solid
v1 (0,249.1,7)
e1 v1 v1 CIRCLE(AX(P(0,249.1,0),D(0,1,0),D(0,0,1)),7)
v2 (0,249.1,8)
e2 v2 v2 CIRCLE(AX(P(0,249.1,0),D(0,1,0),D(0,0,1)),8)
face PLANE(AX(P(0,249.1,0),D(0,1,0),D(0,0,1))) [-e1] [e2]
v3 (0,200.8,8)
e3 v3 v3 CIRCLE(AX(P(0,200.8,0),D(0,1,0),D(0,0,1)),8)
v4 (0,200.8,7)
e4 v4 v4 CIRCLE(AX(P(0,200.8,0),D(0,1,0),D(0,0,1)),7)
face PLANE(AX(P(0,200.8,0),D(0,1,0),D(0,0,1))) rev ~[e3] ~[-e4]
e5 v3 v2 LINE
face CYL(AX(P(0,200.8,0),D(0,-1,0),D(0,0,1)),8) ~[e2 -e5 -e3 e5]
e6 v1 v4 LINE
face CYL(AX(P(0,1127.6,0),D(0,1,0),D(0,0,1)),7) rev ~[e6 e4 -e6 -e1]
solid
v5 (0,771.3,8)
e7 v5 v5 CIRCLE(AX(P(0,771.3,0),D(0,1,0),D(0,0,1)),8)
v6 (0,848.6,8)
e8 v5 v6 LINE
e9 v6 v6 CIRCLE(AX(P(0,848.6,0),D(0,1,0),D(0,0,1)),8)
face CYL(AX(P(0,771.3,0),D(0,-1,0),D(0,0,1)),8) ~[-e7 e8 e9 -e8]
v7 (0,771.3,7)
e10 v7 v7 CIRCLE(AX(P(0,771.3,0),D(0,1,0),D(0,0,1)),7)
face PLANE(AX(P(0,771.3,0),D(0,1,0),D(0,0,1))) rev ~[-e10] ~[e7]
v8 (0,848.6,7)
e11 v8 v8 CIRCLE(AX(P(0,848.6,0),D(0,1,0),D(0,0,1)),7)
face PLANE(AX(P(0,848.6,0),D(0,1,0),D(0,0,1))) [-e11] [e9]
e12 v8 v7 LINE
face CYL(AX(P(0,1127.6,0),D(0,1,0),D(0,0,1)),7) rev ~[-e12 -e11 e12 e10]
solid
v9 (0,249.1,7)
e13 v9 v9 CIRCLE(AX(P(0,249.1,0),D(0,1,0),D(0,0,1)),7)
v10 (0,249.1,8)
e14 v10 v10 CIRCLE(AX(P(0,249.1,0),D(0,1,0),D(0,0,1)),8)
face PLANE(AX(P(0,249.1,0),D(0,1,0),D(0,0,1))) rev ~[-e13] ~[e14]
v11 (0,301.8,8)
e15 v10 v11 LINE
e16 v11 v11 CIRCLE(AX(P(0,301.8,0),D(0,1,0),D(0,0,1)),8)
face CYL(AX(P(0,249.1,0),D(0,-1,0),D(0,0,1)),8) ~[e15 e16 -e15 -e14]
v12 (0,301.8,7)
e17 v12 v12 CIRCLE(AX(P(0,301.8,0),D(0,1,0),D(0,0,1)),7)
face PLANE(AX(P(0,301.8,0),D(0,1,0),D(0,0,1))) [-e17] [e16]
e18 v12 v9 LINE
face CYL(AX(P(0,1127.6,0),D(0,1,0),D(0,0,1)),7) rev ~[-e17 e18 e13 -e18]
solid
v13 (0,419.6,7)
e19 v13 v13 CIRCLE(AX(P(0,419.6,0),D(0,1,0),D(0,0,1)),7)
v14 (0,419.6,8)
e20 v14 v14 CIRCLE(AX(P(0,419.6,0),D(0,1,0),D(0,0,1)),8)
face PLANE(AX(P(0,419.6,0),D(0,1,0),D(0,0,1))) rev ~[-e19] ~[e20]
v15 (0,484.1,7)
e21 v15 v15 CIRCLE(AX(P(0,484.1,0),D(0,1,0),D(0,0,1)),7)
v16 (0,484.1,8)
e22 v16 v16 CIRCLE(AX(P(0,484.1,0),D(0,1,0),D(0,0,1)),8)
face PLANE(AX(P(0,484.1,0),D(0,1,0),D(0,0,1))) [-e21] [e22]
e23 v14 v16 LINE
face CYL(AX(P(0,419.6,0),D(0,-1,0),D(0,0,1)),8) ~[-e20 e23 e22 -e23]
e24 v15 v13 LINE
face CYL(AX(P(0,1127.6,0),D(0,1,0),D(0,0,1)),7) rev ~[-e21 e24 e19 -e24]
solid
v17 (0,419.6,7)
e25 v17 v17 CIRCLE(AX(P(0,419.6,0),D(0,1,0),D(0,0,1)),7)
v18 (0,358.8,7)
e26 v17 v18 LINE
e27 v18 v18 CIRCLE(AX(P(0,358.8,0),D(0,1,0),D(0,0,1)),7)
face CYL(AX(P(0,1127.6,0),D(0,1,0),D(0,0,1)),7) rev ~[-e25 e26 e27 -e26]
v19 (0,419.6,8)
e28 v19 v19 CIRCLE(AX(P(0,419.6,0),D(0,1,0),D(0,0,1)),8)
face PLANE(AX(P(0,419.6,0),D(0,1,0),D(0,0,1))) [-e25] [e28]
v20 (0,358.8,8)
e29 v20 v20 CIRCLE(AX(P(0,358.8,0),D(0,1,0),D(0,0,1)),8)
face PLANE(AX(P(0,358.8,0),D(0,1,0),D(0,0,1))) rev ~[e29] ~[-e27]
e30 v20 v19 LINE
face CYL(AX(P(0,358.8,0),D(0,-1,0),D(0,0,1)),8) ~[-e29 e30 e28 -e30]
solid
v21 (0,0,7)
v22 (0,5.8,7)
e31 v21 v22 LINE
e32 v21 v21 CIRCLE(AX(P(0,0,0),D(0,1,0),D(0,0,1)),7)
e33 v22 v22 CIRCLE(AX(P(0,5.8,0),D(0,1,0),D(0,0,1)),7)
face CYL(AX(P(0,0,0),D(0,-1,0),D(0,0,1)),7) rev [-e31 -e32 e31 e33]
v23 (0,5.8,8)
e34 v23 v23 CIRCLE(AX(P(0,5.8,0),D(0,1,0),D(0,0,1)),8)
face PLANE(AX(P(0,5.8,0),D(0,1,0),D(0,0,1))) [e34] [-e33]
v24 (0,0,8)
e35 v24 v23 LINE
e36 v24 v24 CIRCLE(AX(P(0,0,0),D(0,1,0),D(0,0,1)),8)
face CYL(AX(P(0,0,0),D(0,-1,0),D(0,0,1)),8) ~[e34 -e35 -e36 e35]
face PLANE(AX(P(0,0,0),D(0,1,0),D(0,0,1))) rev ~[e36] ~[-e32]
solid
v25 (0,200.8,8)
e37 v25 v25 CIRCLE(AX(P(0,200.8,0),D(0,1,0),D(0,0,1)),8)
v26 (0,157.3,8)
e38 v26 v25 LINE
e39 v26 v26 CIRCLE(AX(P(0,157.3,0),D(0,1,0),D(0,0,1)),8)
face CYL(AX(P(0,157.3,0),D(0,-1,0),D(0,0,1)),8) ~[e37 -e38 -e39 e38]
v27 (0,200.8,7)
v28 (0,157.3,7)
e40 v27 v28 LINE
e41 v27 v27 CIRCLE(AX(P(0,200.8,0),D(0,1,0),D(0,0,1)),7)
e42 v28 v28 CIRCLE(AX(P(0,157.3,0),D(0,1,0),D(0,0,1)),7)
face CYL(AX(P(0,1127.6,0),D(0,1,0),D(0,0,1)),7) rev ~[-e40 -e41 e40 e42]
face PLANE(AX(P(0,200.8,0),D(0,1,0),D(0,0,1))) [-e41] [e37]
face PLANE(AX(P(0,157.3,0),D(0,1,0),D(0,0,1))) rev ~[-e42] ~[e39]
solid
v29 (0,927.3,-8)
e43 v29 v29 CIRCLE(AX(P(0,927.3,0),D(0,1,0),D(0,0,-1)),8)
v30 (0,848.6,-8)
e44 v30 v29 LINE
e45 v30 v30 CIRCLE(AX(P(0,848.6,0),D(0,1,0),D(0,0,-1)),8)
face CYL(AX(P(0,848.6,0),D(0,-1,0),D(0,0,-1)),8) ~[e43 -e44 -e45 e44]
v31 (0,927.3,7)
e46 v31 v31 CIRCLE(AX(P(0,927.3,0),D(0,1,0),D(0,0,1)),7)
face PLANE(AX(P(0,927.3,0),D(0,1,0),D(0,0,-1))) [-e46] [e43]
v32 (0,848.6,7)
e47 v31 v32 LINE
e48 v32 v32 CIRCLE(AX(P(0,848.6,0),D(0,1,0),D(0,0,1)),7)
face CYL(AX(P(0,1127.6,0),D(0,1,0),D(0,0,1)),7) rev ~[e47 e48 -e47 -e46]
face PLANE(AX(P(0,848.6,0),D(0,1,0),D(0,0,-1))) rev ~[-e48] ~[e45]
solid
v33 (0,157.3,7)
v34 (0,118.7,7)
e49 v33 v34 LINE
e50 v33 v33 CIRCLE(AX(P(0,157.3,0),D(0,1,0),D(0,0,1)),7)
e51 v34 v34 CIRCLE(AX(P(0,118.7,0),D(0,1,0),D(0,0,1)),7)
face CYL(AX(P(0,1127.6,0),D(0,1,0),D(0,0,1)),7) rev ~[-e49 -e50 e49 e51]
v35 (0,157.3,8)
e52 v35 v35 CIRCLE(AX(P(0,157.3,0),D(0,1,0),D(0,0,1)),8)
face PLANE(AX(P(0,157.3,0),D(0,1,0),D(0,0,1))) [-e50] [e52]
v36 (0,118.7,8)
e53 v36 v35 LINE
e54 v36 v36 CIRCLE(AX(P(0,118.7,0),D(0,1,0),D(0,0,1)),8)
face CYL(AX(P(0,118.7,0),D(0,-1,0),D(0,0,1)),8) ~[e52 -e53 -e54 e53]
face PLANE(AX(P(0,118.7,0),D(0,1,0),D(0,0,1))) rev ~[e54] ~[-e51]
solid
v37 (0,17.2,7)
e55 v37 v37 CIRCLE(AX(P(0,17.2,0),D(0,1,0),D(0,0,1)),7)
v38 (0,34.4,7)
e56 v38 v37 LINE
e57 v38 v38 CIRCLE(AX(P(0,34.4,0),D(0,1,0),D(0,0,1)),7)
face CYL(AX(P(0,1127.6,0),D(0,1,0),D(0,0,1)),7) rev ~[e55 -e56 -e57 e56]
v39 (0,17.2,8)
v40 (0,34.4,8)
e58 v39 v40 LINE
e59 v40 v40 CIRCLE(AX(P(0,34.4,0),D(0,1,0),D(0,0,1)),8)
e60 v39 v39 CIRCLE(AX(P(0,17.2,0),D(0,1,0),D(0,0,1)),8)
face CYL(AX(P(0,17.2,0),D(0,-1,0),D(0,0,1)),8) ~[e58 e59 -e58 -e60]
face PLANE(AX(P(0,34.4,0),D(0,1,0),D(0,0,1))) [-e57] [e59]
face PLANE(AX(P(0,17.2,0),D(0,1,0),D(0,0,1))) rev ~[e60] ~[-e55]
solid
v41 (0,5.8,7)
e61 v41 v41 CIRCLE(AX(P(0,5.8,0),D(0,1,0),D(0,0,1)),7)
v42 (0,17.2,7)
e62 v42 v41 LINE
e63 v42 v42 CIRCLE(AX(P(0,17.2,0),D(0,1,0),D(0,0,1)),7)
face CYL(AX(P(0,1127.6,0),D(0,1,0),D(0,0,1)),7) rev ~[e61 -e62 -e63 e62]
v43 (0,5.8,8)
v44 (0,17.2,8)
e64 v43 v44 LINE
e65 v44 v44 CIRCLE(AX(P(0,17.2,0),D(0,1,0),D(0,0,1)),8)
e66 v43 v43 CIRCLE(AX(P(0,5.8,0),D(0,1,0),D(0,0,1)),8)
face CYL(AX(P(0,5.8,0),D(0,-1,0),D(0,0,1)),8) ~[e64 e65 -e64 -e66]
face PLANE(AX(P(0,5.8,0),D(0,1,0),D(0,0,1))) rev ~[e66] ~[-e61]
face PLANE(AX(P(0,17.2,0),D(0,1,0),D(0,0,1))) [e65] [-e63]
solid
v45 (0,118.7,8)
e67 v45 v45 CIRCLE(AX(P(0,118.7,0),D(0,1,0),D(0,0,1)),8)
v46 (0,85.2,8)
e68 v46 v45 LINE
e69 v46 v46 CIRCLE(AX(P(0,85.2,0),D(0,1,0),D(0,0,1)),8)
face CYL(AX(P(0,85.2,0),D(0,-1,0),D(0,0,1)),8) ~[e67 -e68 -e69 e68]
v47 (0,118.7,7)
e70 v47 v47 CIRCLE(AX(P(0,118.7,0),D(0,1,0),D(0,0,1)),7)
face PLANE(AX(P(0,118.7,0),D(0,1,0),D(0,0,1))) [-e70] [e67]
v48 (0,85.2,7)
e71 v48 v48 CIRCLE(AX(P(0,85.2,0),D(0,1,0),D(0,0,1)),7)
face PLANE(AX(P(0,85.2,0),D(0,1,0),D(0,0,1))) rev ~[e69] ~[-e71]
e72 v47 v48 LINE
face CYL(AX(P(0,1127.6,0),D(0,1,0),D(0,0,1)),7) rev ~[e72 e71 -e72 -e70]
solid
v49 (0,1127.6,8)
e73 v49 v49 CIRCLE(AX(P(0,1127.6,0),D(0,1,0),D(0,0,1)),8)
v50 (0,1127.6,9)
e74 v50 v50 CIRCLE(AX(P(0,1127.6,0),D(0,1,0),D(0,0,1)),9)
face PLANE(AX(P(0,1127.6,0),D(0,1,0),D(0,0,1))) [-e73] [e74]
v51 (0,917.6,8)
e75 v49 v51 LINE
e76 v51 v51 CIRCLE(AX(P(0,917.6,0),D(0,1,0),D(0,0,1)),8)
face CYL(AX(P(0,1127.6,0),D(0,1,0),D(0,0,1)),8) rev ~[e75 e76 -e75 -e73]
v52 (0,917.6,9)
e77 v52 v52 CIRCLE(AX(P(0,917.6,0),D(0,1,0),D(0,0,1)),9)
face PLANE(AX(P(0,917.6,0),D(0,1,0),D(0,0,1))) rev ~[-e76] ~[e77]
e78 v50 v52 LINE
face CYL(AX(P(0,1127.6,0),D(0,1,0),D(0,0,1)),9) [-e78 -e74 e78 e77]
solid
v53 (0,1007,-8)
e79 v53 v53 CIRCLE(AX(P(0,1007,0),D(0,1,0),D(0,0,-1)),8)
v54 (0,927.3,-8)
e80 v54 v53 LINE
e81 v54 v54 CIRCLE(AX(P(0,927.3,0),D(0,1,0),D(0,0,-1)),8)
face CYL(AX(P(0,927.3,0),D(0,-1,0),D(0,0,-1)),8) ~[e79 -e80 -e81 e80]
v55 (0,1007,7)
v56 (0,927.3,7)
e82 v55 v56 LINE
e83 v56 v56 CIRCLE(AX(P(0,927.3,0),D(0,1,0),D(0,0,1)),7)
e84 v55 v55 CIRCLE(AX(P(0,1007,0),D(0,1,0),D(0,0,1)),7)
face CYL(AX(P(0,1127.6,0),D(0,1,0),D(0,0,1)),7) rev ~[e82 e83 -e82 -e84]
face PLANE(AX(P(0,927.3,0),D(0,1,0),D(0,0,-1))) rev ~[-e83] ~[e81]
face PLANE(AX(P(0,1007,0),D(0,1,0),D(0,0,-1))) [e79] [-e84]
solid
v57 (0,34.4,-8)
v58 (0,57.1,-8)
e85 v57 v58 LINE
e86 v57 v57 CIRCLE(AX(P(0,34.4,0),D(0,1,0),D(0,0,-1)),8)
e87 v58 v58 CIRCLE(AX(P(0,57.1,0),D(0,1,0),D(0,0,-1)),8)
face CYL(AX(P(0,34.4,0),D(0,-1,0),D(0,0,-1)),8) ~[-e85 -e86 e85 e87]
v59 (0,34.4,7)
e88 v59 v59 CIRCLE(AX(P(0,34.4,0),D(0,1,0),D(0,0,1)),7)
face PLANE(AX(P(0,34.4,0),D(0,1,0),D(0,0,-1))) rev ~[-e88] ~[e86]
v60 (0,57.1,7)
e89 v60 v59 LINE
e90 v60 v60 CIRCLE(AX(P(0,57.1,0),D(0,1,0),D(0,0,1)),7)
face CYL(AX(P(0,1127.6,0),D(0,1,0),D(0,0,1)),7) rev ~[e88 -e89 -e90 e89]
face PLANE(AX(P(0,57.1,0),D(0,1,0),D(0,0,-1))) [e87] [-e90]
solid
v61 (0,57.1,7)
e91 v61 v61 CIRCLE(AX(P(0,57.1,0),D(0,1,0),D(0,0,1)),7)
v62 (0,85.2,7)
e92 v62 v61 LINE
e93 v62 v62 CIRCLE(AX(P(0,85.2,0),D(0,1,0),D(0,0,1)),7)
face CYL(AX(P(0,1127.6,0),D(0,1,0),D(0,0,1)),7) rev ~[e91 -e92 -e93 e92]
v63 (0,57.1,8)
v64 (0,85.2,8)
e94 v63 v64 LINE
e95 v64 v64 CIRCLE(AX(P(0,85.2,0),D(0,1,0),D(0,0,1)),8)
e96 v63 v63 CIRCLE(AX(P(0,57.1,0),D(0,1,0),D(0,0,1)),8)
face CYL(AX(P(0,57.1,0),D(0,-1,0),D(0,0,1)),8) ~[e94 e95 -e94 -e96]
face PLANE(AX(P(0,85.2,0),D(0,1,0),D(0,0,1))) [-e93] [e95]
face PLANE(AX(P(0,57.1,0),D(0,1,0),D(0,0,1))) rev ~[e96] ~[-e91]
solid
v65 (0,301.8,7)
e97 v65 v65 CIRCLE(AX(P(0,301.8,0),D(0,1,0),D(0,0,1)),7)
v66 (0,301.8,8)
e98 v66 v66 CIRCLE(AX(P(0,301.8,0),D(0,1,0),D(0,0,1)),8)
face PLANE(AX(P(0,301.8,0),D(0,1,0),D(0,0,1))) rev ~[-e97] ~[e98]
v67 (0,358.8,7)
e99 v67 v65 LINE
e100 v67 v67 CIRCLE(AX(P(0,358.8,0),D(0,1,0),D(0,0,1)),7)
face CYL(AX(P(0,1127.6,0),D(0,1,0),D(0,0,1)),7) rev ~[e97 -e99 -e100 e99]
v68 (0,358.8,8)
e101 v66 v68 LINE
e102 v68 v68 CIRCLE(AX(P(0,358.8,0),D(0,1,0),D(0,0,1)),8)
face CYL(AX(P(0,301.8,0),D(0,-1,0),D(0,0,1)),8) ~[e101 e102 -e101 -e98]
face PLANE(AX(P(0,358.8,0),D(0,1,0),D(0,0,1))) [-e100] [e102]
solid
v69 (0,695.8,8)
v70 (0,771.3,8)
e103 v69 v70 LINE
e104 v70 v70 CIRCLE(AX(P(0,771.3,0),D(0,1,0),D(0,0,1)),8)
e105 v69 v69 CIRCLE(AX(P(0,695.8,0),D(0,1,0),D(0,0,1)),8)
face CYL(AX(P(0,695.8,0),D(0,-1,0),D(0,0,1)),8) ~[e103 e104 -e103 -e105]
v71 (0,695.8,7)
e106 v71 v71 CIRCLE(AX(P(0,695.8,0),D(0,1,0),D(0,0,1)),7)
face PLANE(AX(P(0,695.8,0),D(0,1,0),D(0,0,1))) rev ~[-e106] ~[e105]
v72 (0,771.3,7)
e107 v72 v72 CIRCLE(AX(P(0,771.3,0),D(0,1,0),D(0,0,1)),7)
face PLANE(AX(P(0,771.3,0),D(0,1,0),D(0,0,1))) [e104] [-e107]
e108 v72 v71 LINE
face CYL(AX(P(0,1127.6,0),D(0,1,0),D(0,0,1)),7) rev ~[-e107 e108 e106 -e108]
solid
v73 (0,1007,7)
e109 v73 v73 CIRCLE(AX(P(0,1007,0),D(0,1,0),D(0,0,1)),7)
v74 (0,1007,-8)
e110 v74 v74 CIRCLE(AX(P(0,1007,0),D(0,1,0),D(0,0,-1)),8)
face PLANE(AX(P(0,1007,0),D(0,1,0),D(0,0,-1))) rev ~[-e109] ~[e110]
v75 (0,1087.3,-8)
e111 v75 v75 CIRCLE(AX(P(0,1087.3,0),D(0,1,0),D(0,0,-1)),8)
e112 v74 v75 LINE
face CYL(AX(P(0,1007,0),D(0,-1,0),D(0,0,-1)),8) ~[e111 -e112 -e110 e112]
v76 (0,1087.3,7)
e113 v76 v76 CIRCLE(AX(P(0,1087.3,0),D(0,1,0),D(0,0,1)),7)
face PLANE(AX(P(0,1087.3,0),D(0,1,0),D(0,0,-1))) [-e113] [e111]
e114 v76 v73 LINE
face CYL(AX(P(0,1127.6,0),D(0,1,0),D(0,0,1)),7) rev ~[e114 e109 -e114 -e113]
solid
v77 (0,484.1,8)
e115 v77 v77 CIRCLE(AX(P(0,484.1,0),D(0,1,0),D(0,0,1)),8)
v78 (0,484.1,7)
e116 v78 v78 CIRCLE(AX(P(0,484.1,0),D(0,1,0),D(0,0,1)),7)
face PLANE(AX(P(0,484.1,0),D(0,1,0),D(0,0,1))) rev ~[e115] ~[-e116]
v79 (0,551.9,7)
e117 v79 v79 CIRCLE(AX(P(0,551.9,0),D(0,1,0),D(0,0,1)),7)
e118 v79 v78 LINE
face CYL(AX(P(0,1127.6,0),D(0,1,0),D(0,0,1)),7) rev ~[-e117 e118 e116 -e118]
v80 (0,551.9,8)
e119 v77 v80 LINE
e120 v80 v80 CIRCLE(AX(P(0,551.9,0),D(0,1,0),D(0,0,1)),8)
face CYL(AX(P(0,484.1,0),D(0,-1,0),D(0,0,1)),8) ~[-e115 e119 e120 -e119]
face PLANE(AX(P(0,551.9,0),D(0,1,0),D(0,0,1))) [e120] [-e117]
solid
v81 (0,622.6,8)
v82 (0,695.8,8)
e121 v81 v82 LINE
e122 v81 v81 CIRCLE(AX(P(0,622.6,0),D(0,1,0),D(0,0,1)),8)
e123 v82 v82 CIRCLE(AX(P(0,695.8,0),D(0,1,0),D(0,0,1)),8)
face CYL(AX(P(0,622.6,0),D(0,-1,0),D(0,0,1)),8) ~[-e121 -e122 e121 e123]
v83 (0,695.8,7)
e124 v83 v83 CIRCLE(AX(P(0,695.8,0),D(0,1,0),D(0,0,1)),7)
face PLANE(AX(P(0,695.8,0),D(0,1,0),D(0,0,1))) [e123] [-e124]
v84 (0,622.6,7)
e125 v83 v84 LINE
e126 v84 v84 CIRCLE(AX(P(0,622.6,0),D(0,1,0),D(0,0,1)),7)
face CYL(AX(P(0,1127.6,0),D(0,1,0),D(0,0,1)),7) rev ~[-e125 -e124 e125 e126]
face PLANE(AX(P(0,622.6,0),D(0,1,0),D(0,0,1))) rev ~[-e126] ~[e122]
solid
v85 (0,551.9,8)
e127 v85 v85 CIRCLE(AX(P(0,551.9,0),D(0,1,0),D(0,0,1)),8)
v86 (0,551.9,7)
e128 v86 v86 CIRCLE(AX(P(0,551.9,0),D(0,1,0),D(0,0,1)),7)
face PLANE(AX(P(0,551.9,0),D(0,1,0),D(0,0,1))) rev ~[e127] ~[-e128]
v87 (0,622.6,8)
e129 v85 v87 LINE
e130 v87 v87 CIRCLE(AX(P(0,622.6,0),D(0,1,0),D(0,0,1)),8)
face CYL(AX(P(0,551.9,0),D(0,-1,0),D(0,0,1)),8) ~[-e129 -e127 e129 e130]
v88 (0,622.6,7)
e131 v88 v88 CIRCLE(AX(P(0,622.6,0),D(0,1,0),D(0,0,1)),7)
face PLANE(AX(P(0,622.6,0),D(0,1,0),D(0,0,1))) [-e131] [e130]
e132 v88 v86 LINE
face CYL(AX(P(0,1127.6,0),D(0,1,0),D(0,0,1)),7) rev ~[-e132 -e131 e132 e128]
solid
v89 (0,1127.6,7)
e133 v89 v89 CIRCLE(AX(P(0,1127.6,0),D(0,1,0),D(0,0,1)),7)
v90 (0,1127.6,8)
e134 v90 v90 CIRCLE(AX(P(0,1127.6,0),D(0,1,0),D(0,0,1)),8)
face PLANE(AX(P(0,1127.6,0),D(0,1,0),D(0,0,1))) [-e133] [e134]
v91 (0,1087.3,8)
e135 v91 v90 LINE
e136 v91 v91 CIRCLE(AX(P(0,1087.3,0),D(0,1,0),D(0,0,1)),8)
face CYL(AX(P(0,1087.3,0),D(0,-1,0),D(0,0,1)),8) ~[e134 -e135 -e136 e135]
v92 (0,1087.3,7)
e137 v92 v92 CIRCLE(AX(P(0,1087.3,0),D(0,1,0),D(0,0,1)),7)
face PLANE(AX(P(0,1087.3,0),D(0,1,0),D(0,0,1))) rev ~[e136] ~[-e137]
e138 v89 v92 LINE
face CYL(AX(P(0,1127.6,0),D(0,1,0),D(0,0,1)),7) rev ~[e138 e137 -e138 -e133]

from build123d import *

# Parameters (mm, degrees)
SCHIZZO1_R                    = 8
SCHIZZO1_R_2                  = 7
ESTRUSIONE_ESTRUSIONE1_DEPTH  = 5.8
SCHIZZO3_R                    = 8
ESTRUSIONE_ESTRUSIONE2_DEPTH  = 11.4
SCHIZZO4_R                    = 8
ESTRUSIONE_ESTRUSIONE3_DEPTH  = 17.2
SCHIZZO5_R                    = 8
ESTRUSIONE_ESTRUSIONE4_DEPTH  = 22.7
SCHIZZO6_R                    = 8
ESTRUSIONE_ESTRUSIONE5_DEPTH  = 28.1
SCHIZZO7_R                    = 8
ESTRUSIONE_ESTRUSIONE6_DEPTH  = 33.5
SCHIZZO8_R                    = 8
ESTRUSIONE_ESTRUSIONE7_DEPTH  = 38.6
SCHIZZO9_R                    = 8
ESTRUSIONE_ESTRUSIONE8_DEPTH  = 43.5
SCHIZZO10_R                   = 8
ESTRUSIONE_ESTRUSIONE9_DEPTH  = 48.3
SCHIZZO11_R                   = 8
ESTRUSIONE_ESTRUSIONE10_DEPTH = 52.7
SCHIZZO12_R                   = 8
ESTRUSIONE_ESTRUSIONE11_DEPTH = 57
SCHIZZO13_R                   = 8
ESTRUSIONE_ESTRUSIONE12_DEPTH = 60.8
SCHIZZO14_R                   = 8
ESTRUSIONE_ESTRUSIONE13_DEPTH = 64.5
SCHIZZO15_R                   = 8
ESTRUSIONE_ESTRUSIONE14_DEPTH = 67.8
SCHIZZO16_R                   = 8
ESTRUSIONE_ESTRUSIONE15_DEPTH = 70.7
SCHIZZO17_R                   = 8
ESTRUSIONE_ESTRUSIONE16_DEPTH = 73.2
SCHIZZO18_R                   = 8
ESTRUSIONE_ESTRUSIONE17_DEPTH = 75.5
SCHIZZO19_R                   = 8
ESTRUSIONE_ESTRUSIONE18_DEPTH = 77.3
SCHIZZO20_R                   = 8
ESTRUSIONE_ESTRUSIONE19_DEPTH = 78.7
SCHIZZO21_R                   = 8
ESTRUSIONE_ESTRUSIONE20_DEPTH = 79.7
SCHIZZO22_R                   = 8
ESTRUSIONE_ESTRUSIONE21_DEPTH = 80.3
SCHIZZO23_R                   = 8
ESTRUSIONE_ESTRUSIONE22_DEPTH = 40.3
SCHIZZO24_R                   = 7
TAGLIO_ESTRUSIONE1_DEPTH      = 1128.656756287
SCHIZZO25_R                   = 9
SCHIZZO25_R_2                 = 8
ESTRUSIONE_ESTRUSIONE23_DEPTH = 210


with BuildPart() as part:
    # Schizzo1 → Estrusione-Estrusione1 (new body)
    with BuildSketch(Plane(origin=(0, 0, 0), x_dir=(1, 0, 0), z_dir=(0, 1, 0))):
        with Locations(Location((0, 0, 0), (0, 0, 270))):
            Circle(SCHIZZO1_R)
        with Locations(Location((0, 0, 0), (0, 0, 270))):
            Circle(SCHIZZO1_R_2, mode=Mode.SUBTRACT)
    extrude(amount=ESTRUSIONE_ESTRUSIONE1_DEPTH)


with BuildPart() as body_2:
    # Schizzo3 → Estrusione-Estrusione2 (new body)
    with BuildSketch(Plane(origin=(0, 5.8, 0), x_dir=(1, 0, 0), z_dir=(0, 1, 0))):
        with Locations(Location((0, 0, 0), (0, 0, 270))):
            Circle(SCHIZZO3_R)
    extrude(amount=ESTRUSIONE_ESTRUSIONE2_DEPTH)


with BuildPart() as body_3:
    # Schizzo4 → Estrusione-Estrusione3 (new body)
    with BuildSketch(Plane(origin=(0, 17.2, 0), x_dir=(1, 0, 0), z_dir=(0, 1, 0))):
        with Locations(Location((0, 0, 0), (0, 0, 270))):
            Circle(SCHIZZO4_R)
    extrude(amount=ESTRUSIONE_ESTRUSIONE3_DEPTH)


with BuildPart() as body_4:
    # Schizzo5 → Estrusione-Estrusione4 (new body)
    with BuildSketch(Plane(origin=(0, 34.4, 0), x_dir=(1, 0, 0), z_dir=(0, 1, 0))):
        with Locations(Location((0, 0, 0), (0, 0, 90))):
            Circle(SCHIZZO5_R)
    extrude(amount=ESTRUSIONE_ESTRUSIONE4_DEPTH)


with BuildPart() as body_5:
    # Schizzo6 → Estrusione-Estrusione5 (new body)
    with BuildSketch(Plane(origin=(0, 57.1, 0), x_dir=(1, 0, 0), z_dir=(0, 1, 0))):
        with Locations(Location((0, 0, 0), (0, 0, 270))):
            Circle(SCHIZZO6_R)
    extrude(amount=ESTRUSIONE_ESTRUSIONE5_DEPTH)


with BuildPart() as body_6:
    # Schizzo7 → Estrusione-Estrusione6 (new body)
    with BuildSketch(Plane(origin=(0, 85.2, 0), x_dir=(1, 0, 0), z_dir=(0, 1, 0))):
        with Locations(Location((0, 0, 0), (0, 0, 270))):
            Circle(SCHIZZO7_R)
    extrude(amount=ESTRUSIONE_ESTRUSIONE6_DEPTH)


with BuildPart() as body_7:
    # Schizzo8 → Estrusione-Estrusione7 (new body)
    with BuildSketch(Plane(origin=(0, 118.7, 0), x_dir=(1, 0, 0), z_dir=(0, 1, 0))):
        with Locations(Location((0, 0, 0), (0, 0, 270))):
            Circle(SCHIZZO8_R)
    extrude(amount=ESTRUSIONE_ESTRUSIONE7_DEPTH)


with BuildPart() as body_8:
    # Schizzo9 → Estrusione-Estrusione8 (new body)
    with BuildSketch(Plane(origin=(0, 157.3, 0), x_dir=(1, 0, 0), z_dir=(0, 1, 0))):
        with Locations(Location((0, 0, 0), (0, 0, 270))):
            Circle(SCHIZZO9_R)
    extrude(amount=ESTRUSIONE_ESTRUSIONE8_DEPTH)


with BuildPart() as body_9:
    # Schizzo10 → Estrusione-Estrusione9 (new body)
    with BuildSketch(Plane(origin=(0, 200.8, 0), x_dir=(1, 0, 0), z_dir=(0, 1, 0))):
        with Locations(Location((0, 0, 0), (0, 0, 270))):
            Circle(SCHIZZO10_R)
    extrude(amount=ESTRUSIONE_ESTRUSIONE9_DEPTH)


with BuildPart() as body_10:
    # Schizzo11 → Estrusione-Estrusione10 (new body)
    with BuildSketch(Plane(origin=(0, 249.1, 0), x_dir=(1, 0, 0), z_dir=(0, 1, 0))):
        with Locations(Location((0, 0, 0), (0, 0, 270))):
            Circle(SCHIZZO11_R)
    extrude(amount=ESTRUSIONE_ESTRUSIONE10_DEPTH)


with BuildPart() as body_11:
    # Schizzo12 → Estrusione-Estrusione11 (new body)
    with BuildSketch(Plane(origin=(0, 301.8, 0), x_dir=(1, 0, 0), z_dir=(0, 1, 0))):
        with Locations(Location((0, 0, 0), (0, 0, 270))):
            Circle(SCHIZZO12_R)
    extrude(amount=ESTRUSIONE_ESTRUSIONE11_DEPTH)


with BuildPart() as body_12:
    # Schizzo13 → Estrusione-Estrusione12 (new body)
    with BuildSketch(Plane(origin=(0, 358.8, 0), x_dir=(1, 0, 0), z_dir=(0, 1, 0))):
        with Locations(Location((0, 0, 0), (0, 0, 270))):
            Circle(SCHIZZO13_R)
    extrude(amount=ESTRUSIONE_ESTRUSIONE12_DEPTH)


with BuildPart() as body_13:
    # Schizzo14 → Estrusione-Estrusione13 (new body)
    with BuildSketch(Plane(origin=(0, 419.6, 0), x_dir=(1, 0, 0), z_dir=(0, 1, 0))):
        with Locations(Location((0, 0, 0), (0, 0, 270))):
            Circle(SCHIZZO14_R)
    extrude(amount=ESTRUSIONE_ESTRUSIONE13_DEPTH)


with BuildPart() as body_14:
    # Schizzo15 → Estrusione-Estrusione14 (new body)
    with BuildSketch(Plane(origin=(0, 484.1, 0), x_dir=(1, 0, 0), z_dir=(0, 1, 0))):
        with Locations(Location((0, 0, 0), (0, 0, 270))):
            Circle(SCHIZZO15_R)
    extrude(amount=ESTRUSIONE_ESTRUSIONE14_DEPTH)


with BuildPart() as body_15:
    # Schizzo16 → Estrusione-Estrusione15 (new body)
    with BuildSketch(Plane(origin=(0, 551.9, 0), x_dir=(1, 0, 0), z_dir=(0, 1, 0))):
        with Locations(Location((0, 0, 0), (0, 0, 270))):
            Circle(SCHIZZO16_R)
    extrude(amount=ESTRUSIONE_ESTRUSIONE15_DEPTH)


with BuildPart() as body_16:
    # Schizzo17 → Estrusione-Estrusione16 (new body)
    with BuildSketch(Plane(origin=(0, 622.6, 0), x_dir=(1, 0, 0), z_dir=(0, 1, 0))):
        with Locations(Location((0, 0, 0), (0, 0, 270))):
            Circle(SCHIZZO17_R)
    extrude(amount=ESTRUSIONE_ESTRUSIONE16_DEPTH)


with BuildPart() as body_17:
    # Schizzo18 → Estrusione-Estrusione17 (new body)
    with BuildSketch(Plane(origin=(0, 695.8, 0), x_dir=(1, 0, 0), z_dir=(0, 1, 0))):
        with Locations(Location((0, 0, 0), (0, 0, 270))):
            Circle(SCHIZZO18_R)
    extrude(amount=ESTRUSIONE_ESTRUSIONE17_DEPTH)


with BuildPart() as body_18:
    # Schizzo19 → Estrusione-Estrusione18 (new body)
    with BuildSketch(Plane(origin=(0, 771.3, 0), x_dir=(1, 0, 0), z_dir=(0, 1, 0))):
        with Locations(Location((0, 0, 0), (0, 0, 270))):
            Circle(SCHIZZO19_R)
    extrude(amount=ESTRUSIONE_ESTRUSIONE18_DEPTH)


with BuildPart() as body_19:
    # Schizzo20 → Estrusione-Estrusione19 (new body)
    with BuildSketch(Plane(origin=(0, 848.6, 0), x_dir=(1, 0, 0), z_dir=(0, 1, 0))):
        with Locations(Location((0, 0, 0), (0, 0, 90))):
            Circle(SCHIZZO20_R)
    extrude(amount=ESTRUSIONE_ESTRUSIONE19_DEPTH)


with BuildPart() as body_20:
    # Schizzo21 → Estrusione-Estrusione20 (new body)
    with BuildSketch(Plane(origin=(0, 927.3, 0), x_dir=(1, 0, 0), z_dir=(0, 1, 0))):
        with Locations(Location((0, 0, 0), (0, 0, 90))):
            Circle(SCHIZZO21_R)
    extrude(amount=ESTRUSIONE_ESTRUSIONE20_DEPTH)


with BuildPart() as body_21:
    # Schizzo22 → Estrusione-Estrusione21 (new body)
    with BuildSketch(Plane(origin=(0, 1007, 0), x_dir=(1, 0, 0), z_dir=(0, 1, 0))):
        with Locations(Location((0, 0, 0), (0, 0, 90))):
            Circle(SCHIZZO22_R)
    extrude(amount=ESTRUSIONE_ESTRUSIONE21_DEPTH)


with BuildPart() as body_22:
    # Schizzo23 → Estrusione-Estrusione22 (new body)
    with BuildSketch(Plane(origin=(0, 1087.3, 0), x_dir=(1, 0, 0), z_dir=(0, 1, 0))):
        with Locations(Location((0, 0, 0), (0, 0, 270))):
            Circle(SCHIZZO23_R)
    extrude(amount=ESTRUSIONE_ESTRUSIONE22_DEPTH)


with BuildPart() as taglio_estrusione1_tool:
    # Schizzo24 → Taglio-Estrusione1 (new, through all)
    with BuildSketch(Plane(origin=(0, 1127.6, 0), x_dir=(1, 0, 0), z_dir=(0, 1, 0))):
        with Locations(Location((0, 0, 0), (0, 0, 270))):
            Circle(SCHIZZO24_R)
    extrude(amount=-TAGLIO_ESTRUSIONE1_DEPTH)


with BuildPart() as body_2_1:
    add(body_2.part)

    # Taglio-Estrusione1: cut by taglio_estrusione1_tool
    add(taglio_estrusione1_tool.part, mode=Mode.SUBTRACT)


with BuildPart() as body_3_1:
    add(body_3.part)

    # Taglio-Estrusione1: cut by taglio_estrusione1_tool
    add(taglio_estrusione1_tool.part, mode=Mode.SUBTRACT)


with BuildPart() as body_4_1:
    add(body_4.part)

    # Taglio-Estrusione1: cut by taglio_estrusione1_tool
    add(taglio_estrusione1_tool.part, mode=Mode.SUBTRACT)


with BuildPart() as body_5_1:
    add(body_5.part)

    # Taglio-Estrusione1: cut by taglio_estrusione1_tool
    add(taglio_estrusione1_tool.part, mode=Mode.SUBTRACT)


with BuildPart() as body_6_1:
    add(body_6.part)

    # Taglio-Estrusione1: cut by taglio_estrusione1_tool
    add(taglio_estrusione1_tool.part, mode=Mode.SUBTRACT)


with BuildPart() as body_7_1:
    add(body_7.part)

    # Taglio-Estrusione1: cut by taglio_estrusione1_tool
    add(taglio_estrusione1_tool.part, mode=Mode.SUBTRACT)


with BuildPart() as body_8_1:
    add(body_8.part)

    # Taglio-Estrusione1: cut by taglio_estrusione1_tool
    add(taglio_estrusione1_tool.part, mode=Mode.SUBTRACT)


with BuildPart() as body_9_1:
    add(body_9.part)

    # Taglio-Estrusione1: cut by taglio_estrusione1_tool
    add(taglio_estrusione1_tool.part, mode=Mode.SUBTRACT)


with BuildPart() as body_10_1:
    add(body_10.part)

    # Taglio-Estrusione1: cut by taglio_estrusione1_tool
    add(taglio_estrusione1_tool.part, mode=Mode.SUBTRACT)


with BuildPart() as body_11_1:
    add(body_11.part)

    # Taglio-Estrusione1: cut by taglio_estrusione1_tool
    add(taglio_estrusione1_tool.part, mode=Mode.SUBTRACT)


with BuildPart() as body_12_1:
    add(body_12.part)

    # Taglio-Estrusione1: cut by taglio_estrusione1_tool
    add(taglio_estrusione1_tool.part, mode=Mode.SUBTRACT)


with BuildPart() as body_13_1:
    add(body_13.part)

    # Taglio-Estrusione1: cut by taglio_estrusione1_tool
    add(taglio_estrusione1_tool.part, mode=Mode.SUBTRACT)


with BuildPart() as body_14_1:
    add(body_14.part)

    # Taglio-Estrusione1: cut by taglio_estrusione1_tool
    add(taglio_estrusione1_tool.part, mode=Mode.SUBTRACT)


with BuildPart() as body_15_1:
    add(body_15.part)

    # Taglio-Estrusione1: cut by taglio_estrusione1_tool
    add(taglio_estrusione1_tool.part, mode=Mode.SUBTRACT)


with BuildPart() as body_16_1:
    add(body_16.part)

    # Taglio-Estrusione1: cut by taglio_estrusione1_tool
    add(taglio_estrusione1_tool.part, mode=Mode.SUBTRACT)


with BuildPart() as body_17_1:
    add(body_17.part)

    # Taglio-Estrusione1: cut by taglio_estrusione1_tool
    add(taglio_estrusione1_tool.part, mode=Mode.SUBTRACT)


with BuildPart() as body_18_1:
    add(body_18.part)

    # Taglio-Estrusione1: cut by taglio_estrusione1_tool
    add(taglio_estrusione1_tool.part, mode=Mode.SUBTRACT)


with BuildPart() as body_19_1:
    add(body_19.part)

    # Taglio-Estrusione1: cut by taglio_estrusione1_tool
    add(taglio_estrusione1_tool.part, mode=Mode.SUBTRACT)


with BuildPart() as body_20_1:
    add(body_20.part)

    # Taglio-Estrusione1: cut by taglio_estrusione1_tool
    add(taglio_estrusione1_tool.part, mode=Mode.SUBTRACT)


with BuildPart() as body_21_1:
    add(body_21.part)

    # Taglio-Estrusione1: cut by taglio_estrusione1_tool
    add(taglio_estrusione1_tool.part, mode=Mode.SUBTRACT)


with BuildPart() as body_22_1:
    add(body_22.part)

    # Taglio-Estrusione1: cut by taglio_estrusione1_tool
    add(taglio_estrusione1_tool.part, mode=Mode.SUBTRACT)


with BuildPart() as body_23:
    # Schizzo25 → Estrusione-Estrusione23 (new body)
    with BuildSketch(Plane(origin=(0, 1127.6, 0), x_dir=(1, 0, 0), z_dir=(0, 1, 0))):
        with Locations(Location((0, 0, 0), (0, 0, 270))):
            Circle(SCHIZZO25_R)
        with Locations(Location((0, 0, 0), (0, 0, 270))):
            Circle(SCHIZZO25_R_2, mode=Mode.SUBTRACT)
    extrude(amount=-ESTRUSIONE_ESTRUSIONE23_DEPTH)


solid = Compound([part.part, body_2_1.part, body_3_1.part, body_4_1.part, body_5_1.part, body_6_1.part, body_7_1.part, body_8_1.part, body_9_1.part, body_10_1.part, body_11_1.part, body_12_1.part, body_13_1.part, body_14_1.part, body_15_1.part, body_16_1.part, body_17_1.part, body_18_1.part, body_19_1.part, body_20_1.part, body_21_1.part, body_22_1.part, body_23.part])
